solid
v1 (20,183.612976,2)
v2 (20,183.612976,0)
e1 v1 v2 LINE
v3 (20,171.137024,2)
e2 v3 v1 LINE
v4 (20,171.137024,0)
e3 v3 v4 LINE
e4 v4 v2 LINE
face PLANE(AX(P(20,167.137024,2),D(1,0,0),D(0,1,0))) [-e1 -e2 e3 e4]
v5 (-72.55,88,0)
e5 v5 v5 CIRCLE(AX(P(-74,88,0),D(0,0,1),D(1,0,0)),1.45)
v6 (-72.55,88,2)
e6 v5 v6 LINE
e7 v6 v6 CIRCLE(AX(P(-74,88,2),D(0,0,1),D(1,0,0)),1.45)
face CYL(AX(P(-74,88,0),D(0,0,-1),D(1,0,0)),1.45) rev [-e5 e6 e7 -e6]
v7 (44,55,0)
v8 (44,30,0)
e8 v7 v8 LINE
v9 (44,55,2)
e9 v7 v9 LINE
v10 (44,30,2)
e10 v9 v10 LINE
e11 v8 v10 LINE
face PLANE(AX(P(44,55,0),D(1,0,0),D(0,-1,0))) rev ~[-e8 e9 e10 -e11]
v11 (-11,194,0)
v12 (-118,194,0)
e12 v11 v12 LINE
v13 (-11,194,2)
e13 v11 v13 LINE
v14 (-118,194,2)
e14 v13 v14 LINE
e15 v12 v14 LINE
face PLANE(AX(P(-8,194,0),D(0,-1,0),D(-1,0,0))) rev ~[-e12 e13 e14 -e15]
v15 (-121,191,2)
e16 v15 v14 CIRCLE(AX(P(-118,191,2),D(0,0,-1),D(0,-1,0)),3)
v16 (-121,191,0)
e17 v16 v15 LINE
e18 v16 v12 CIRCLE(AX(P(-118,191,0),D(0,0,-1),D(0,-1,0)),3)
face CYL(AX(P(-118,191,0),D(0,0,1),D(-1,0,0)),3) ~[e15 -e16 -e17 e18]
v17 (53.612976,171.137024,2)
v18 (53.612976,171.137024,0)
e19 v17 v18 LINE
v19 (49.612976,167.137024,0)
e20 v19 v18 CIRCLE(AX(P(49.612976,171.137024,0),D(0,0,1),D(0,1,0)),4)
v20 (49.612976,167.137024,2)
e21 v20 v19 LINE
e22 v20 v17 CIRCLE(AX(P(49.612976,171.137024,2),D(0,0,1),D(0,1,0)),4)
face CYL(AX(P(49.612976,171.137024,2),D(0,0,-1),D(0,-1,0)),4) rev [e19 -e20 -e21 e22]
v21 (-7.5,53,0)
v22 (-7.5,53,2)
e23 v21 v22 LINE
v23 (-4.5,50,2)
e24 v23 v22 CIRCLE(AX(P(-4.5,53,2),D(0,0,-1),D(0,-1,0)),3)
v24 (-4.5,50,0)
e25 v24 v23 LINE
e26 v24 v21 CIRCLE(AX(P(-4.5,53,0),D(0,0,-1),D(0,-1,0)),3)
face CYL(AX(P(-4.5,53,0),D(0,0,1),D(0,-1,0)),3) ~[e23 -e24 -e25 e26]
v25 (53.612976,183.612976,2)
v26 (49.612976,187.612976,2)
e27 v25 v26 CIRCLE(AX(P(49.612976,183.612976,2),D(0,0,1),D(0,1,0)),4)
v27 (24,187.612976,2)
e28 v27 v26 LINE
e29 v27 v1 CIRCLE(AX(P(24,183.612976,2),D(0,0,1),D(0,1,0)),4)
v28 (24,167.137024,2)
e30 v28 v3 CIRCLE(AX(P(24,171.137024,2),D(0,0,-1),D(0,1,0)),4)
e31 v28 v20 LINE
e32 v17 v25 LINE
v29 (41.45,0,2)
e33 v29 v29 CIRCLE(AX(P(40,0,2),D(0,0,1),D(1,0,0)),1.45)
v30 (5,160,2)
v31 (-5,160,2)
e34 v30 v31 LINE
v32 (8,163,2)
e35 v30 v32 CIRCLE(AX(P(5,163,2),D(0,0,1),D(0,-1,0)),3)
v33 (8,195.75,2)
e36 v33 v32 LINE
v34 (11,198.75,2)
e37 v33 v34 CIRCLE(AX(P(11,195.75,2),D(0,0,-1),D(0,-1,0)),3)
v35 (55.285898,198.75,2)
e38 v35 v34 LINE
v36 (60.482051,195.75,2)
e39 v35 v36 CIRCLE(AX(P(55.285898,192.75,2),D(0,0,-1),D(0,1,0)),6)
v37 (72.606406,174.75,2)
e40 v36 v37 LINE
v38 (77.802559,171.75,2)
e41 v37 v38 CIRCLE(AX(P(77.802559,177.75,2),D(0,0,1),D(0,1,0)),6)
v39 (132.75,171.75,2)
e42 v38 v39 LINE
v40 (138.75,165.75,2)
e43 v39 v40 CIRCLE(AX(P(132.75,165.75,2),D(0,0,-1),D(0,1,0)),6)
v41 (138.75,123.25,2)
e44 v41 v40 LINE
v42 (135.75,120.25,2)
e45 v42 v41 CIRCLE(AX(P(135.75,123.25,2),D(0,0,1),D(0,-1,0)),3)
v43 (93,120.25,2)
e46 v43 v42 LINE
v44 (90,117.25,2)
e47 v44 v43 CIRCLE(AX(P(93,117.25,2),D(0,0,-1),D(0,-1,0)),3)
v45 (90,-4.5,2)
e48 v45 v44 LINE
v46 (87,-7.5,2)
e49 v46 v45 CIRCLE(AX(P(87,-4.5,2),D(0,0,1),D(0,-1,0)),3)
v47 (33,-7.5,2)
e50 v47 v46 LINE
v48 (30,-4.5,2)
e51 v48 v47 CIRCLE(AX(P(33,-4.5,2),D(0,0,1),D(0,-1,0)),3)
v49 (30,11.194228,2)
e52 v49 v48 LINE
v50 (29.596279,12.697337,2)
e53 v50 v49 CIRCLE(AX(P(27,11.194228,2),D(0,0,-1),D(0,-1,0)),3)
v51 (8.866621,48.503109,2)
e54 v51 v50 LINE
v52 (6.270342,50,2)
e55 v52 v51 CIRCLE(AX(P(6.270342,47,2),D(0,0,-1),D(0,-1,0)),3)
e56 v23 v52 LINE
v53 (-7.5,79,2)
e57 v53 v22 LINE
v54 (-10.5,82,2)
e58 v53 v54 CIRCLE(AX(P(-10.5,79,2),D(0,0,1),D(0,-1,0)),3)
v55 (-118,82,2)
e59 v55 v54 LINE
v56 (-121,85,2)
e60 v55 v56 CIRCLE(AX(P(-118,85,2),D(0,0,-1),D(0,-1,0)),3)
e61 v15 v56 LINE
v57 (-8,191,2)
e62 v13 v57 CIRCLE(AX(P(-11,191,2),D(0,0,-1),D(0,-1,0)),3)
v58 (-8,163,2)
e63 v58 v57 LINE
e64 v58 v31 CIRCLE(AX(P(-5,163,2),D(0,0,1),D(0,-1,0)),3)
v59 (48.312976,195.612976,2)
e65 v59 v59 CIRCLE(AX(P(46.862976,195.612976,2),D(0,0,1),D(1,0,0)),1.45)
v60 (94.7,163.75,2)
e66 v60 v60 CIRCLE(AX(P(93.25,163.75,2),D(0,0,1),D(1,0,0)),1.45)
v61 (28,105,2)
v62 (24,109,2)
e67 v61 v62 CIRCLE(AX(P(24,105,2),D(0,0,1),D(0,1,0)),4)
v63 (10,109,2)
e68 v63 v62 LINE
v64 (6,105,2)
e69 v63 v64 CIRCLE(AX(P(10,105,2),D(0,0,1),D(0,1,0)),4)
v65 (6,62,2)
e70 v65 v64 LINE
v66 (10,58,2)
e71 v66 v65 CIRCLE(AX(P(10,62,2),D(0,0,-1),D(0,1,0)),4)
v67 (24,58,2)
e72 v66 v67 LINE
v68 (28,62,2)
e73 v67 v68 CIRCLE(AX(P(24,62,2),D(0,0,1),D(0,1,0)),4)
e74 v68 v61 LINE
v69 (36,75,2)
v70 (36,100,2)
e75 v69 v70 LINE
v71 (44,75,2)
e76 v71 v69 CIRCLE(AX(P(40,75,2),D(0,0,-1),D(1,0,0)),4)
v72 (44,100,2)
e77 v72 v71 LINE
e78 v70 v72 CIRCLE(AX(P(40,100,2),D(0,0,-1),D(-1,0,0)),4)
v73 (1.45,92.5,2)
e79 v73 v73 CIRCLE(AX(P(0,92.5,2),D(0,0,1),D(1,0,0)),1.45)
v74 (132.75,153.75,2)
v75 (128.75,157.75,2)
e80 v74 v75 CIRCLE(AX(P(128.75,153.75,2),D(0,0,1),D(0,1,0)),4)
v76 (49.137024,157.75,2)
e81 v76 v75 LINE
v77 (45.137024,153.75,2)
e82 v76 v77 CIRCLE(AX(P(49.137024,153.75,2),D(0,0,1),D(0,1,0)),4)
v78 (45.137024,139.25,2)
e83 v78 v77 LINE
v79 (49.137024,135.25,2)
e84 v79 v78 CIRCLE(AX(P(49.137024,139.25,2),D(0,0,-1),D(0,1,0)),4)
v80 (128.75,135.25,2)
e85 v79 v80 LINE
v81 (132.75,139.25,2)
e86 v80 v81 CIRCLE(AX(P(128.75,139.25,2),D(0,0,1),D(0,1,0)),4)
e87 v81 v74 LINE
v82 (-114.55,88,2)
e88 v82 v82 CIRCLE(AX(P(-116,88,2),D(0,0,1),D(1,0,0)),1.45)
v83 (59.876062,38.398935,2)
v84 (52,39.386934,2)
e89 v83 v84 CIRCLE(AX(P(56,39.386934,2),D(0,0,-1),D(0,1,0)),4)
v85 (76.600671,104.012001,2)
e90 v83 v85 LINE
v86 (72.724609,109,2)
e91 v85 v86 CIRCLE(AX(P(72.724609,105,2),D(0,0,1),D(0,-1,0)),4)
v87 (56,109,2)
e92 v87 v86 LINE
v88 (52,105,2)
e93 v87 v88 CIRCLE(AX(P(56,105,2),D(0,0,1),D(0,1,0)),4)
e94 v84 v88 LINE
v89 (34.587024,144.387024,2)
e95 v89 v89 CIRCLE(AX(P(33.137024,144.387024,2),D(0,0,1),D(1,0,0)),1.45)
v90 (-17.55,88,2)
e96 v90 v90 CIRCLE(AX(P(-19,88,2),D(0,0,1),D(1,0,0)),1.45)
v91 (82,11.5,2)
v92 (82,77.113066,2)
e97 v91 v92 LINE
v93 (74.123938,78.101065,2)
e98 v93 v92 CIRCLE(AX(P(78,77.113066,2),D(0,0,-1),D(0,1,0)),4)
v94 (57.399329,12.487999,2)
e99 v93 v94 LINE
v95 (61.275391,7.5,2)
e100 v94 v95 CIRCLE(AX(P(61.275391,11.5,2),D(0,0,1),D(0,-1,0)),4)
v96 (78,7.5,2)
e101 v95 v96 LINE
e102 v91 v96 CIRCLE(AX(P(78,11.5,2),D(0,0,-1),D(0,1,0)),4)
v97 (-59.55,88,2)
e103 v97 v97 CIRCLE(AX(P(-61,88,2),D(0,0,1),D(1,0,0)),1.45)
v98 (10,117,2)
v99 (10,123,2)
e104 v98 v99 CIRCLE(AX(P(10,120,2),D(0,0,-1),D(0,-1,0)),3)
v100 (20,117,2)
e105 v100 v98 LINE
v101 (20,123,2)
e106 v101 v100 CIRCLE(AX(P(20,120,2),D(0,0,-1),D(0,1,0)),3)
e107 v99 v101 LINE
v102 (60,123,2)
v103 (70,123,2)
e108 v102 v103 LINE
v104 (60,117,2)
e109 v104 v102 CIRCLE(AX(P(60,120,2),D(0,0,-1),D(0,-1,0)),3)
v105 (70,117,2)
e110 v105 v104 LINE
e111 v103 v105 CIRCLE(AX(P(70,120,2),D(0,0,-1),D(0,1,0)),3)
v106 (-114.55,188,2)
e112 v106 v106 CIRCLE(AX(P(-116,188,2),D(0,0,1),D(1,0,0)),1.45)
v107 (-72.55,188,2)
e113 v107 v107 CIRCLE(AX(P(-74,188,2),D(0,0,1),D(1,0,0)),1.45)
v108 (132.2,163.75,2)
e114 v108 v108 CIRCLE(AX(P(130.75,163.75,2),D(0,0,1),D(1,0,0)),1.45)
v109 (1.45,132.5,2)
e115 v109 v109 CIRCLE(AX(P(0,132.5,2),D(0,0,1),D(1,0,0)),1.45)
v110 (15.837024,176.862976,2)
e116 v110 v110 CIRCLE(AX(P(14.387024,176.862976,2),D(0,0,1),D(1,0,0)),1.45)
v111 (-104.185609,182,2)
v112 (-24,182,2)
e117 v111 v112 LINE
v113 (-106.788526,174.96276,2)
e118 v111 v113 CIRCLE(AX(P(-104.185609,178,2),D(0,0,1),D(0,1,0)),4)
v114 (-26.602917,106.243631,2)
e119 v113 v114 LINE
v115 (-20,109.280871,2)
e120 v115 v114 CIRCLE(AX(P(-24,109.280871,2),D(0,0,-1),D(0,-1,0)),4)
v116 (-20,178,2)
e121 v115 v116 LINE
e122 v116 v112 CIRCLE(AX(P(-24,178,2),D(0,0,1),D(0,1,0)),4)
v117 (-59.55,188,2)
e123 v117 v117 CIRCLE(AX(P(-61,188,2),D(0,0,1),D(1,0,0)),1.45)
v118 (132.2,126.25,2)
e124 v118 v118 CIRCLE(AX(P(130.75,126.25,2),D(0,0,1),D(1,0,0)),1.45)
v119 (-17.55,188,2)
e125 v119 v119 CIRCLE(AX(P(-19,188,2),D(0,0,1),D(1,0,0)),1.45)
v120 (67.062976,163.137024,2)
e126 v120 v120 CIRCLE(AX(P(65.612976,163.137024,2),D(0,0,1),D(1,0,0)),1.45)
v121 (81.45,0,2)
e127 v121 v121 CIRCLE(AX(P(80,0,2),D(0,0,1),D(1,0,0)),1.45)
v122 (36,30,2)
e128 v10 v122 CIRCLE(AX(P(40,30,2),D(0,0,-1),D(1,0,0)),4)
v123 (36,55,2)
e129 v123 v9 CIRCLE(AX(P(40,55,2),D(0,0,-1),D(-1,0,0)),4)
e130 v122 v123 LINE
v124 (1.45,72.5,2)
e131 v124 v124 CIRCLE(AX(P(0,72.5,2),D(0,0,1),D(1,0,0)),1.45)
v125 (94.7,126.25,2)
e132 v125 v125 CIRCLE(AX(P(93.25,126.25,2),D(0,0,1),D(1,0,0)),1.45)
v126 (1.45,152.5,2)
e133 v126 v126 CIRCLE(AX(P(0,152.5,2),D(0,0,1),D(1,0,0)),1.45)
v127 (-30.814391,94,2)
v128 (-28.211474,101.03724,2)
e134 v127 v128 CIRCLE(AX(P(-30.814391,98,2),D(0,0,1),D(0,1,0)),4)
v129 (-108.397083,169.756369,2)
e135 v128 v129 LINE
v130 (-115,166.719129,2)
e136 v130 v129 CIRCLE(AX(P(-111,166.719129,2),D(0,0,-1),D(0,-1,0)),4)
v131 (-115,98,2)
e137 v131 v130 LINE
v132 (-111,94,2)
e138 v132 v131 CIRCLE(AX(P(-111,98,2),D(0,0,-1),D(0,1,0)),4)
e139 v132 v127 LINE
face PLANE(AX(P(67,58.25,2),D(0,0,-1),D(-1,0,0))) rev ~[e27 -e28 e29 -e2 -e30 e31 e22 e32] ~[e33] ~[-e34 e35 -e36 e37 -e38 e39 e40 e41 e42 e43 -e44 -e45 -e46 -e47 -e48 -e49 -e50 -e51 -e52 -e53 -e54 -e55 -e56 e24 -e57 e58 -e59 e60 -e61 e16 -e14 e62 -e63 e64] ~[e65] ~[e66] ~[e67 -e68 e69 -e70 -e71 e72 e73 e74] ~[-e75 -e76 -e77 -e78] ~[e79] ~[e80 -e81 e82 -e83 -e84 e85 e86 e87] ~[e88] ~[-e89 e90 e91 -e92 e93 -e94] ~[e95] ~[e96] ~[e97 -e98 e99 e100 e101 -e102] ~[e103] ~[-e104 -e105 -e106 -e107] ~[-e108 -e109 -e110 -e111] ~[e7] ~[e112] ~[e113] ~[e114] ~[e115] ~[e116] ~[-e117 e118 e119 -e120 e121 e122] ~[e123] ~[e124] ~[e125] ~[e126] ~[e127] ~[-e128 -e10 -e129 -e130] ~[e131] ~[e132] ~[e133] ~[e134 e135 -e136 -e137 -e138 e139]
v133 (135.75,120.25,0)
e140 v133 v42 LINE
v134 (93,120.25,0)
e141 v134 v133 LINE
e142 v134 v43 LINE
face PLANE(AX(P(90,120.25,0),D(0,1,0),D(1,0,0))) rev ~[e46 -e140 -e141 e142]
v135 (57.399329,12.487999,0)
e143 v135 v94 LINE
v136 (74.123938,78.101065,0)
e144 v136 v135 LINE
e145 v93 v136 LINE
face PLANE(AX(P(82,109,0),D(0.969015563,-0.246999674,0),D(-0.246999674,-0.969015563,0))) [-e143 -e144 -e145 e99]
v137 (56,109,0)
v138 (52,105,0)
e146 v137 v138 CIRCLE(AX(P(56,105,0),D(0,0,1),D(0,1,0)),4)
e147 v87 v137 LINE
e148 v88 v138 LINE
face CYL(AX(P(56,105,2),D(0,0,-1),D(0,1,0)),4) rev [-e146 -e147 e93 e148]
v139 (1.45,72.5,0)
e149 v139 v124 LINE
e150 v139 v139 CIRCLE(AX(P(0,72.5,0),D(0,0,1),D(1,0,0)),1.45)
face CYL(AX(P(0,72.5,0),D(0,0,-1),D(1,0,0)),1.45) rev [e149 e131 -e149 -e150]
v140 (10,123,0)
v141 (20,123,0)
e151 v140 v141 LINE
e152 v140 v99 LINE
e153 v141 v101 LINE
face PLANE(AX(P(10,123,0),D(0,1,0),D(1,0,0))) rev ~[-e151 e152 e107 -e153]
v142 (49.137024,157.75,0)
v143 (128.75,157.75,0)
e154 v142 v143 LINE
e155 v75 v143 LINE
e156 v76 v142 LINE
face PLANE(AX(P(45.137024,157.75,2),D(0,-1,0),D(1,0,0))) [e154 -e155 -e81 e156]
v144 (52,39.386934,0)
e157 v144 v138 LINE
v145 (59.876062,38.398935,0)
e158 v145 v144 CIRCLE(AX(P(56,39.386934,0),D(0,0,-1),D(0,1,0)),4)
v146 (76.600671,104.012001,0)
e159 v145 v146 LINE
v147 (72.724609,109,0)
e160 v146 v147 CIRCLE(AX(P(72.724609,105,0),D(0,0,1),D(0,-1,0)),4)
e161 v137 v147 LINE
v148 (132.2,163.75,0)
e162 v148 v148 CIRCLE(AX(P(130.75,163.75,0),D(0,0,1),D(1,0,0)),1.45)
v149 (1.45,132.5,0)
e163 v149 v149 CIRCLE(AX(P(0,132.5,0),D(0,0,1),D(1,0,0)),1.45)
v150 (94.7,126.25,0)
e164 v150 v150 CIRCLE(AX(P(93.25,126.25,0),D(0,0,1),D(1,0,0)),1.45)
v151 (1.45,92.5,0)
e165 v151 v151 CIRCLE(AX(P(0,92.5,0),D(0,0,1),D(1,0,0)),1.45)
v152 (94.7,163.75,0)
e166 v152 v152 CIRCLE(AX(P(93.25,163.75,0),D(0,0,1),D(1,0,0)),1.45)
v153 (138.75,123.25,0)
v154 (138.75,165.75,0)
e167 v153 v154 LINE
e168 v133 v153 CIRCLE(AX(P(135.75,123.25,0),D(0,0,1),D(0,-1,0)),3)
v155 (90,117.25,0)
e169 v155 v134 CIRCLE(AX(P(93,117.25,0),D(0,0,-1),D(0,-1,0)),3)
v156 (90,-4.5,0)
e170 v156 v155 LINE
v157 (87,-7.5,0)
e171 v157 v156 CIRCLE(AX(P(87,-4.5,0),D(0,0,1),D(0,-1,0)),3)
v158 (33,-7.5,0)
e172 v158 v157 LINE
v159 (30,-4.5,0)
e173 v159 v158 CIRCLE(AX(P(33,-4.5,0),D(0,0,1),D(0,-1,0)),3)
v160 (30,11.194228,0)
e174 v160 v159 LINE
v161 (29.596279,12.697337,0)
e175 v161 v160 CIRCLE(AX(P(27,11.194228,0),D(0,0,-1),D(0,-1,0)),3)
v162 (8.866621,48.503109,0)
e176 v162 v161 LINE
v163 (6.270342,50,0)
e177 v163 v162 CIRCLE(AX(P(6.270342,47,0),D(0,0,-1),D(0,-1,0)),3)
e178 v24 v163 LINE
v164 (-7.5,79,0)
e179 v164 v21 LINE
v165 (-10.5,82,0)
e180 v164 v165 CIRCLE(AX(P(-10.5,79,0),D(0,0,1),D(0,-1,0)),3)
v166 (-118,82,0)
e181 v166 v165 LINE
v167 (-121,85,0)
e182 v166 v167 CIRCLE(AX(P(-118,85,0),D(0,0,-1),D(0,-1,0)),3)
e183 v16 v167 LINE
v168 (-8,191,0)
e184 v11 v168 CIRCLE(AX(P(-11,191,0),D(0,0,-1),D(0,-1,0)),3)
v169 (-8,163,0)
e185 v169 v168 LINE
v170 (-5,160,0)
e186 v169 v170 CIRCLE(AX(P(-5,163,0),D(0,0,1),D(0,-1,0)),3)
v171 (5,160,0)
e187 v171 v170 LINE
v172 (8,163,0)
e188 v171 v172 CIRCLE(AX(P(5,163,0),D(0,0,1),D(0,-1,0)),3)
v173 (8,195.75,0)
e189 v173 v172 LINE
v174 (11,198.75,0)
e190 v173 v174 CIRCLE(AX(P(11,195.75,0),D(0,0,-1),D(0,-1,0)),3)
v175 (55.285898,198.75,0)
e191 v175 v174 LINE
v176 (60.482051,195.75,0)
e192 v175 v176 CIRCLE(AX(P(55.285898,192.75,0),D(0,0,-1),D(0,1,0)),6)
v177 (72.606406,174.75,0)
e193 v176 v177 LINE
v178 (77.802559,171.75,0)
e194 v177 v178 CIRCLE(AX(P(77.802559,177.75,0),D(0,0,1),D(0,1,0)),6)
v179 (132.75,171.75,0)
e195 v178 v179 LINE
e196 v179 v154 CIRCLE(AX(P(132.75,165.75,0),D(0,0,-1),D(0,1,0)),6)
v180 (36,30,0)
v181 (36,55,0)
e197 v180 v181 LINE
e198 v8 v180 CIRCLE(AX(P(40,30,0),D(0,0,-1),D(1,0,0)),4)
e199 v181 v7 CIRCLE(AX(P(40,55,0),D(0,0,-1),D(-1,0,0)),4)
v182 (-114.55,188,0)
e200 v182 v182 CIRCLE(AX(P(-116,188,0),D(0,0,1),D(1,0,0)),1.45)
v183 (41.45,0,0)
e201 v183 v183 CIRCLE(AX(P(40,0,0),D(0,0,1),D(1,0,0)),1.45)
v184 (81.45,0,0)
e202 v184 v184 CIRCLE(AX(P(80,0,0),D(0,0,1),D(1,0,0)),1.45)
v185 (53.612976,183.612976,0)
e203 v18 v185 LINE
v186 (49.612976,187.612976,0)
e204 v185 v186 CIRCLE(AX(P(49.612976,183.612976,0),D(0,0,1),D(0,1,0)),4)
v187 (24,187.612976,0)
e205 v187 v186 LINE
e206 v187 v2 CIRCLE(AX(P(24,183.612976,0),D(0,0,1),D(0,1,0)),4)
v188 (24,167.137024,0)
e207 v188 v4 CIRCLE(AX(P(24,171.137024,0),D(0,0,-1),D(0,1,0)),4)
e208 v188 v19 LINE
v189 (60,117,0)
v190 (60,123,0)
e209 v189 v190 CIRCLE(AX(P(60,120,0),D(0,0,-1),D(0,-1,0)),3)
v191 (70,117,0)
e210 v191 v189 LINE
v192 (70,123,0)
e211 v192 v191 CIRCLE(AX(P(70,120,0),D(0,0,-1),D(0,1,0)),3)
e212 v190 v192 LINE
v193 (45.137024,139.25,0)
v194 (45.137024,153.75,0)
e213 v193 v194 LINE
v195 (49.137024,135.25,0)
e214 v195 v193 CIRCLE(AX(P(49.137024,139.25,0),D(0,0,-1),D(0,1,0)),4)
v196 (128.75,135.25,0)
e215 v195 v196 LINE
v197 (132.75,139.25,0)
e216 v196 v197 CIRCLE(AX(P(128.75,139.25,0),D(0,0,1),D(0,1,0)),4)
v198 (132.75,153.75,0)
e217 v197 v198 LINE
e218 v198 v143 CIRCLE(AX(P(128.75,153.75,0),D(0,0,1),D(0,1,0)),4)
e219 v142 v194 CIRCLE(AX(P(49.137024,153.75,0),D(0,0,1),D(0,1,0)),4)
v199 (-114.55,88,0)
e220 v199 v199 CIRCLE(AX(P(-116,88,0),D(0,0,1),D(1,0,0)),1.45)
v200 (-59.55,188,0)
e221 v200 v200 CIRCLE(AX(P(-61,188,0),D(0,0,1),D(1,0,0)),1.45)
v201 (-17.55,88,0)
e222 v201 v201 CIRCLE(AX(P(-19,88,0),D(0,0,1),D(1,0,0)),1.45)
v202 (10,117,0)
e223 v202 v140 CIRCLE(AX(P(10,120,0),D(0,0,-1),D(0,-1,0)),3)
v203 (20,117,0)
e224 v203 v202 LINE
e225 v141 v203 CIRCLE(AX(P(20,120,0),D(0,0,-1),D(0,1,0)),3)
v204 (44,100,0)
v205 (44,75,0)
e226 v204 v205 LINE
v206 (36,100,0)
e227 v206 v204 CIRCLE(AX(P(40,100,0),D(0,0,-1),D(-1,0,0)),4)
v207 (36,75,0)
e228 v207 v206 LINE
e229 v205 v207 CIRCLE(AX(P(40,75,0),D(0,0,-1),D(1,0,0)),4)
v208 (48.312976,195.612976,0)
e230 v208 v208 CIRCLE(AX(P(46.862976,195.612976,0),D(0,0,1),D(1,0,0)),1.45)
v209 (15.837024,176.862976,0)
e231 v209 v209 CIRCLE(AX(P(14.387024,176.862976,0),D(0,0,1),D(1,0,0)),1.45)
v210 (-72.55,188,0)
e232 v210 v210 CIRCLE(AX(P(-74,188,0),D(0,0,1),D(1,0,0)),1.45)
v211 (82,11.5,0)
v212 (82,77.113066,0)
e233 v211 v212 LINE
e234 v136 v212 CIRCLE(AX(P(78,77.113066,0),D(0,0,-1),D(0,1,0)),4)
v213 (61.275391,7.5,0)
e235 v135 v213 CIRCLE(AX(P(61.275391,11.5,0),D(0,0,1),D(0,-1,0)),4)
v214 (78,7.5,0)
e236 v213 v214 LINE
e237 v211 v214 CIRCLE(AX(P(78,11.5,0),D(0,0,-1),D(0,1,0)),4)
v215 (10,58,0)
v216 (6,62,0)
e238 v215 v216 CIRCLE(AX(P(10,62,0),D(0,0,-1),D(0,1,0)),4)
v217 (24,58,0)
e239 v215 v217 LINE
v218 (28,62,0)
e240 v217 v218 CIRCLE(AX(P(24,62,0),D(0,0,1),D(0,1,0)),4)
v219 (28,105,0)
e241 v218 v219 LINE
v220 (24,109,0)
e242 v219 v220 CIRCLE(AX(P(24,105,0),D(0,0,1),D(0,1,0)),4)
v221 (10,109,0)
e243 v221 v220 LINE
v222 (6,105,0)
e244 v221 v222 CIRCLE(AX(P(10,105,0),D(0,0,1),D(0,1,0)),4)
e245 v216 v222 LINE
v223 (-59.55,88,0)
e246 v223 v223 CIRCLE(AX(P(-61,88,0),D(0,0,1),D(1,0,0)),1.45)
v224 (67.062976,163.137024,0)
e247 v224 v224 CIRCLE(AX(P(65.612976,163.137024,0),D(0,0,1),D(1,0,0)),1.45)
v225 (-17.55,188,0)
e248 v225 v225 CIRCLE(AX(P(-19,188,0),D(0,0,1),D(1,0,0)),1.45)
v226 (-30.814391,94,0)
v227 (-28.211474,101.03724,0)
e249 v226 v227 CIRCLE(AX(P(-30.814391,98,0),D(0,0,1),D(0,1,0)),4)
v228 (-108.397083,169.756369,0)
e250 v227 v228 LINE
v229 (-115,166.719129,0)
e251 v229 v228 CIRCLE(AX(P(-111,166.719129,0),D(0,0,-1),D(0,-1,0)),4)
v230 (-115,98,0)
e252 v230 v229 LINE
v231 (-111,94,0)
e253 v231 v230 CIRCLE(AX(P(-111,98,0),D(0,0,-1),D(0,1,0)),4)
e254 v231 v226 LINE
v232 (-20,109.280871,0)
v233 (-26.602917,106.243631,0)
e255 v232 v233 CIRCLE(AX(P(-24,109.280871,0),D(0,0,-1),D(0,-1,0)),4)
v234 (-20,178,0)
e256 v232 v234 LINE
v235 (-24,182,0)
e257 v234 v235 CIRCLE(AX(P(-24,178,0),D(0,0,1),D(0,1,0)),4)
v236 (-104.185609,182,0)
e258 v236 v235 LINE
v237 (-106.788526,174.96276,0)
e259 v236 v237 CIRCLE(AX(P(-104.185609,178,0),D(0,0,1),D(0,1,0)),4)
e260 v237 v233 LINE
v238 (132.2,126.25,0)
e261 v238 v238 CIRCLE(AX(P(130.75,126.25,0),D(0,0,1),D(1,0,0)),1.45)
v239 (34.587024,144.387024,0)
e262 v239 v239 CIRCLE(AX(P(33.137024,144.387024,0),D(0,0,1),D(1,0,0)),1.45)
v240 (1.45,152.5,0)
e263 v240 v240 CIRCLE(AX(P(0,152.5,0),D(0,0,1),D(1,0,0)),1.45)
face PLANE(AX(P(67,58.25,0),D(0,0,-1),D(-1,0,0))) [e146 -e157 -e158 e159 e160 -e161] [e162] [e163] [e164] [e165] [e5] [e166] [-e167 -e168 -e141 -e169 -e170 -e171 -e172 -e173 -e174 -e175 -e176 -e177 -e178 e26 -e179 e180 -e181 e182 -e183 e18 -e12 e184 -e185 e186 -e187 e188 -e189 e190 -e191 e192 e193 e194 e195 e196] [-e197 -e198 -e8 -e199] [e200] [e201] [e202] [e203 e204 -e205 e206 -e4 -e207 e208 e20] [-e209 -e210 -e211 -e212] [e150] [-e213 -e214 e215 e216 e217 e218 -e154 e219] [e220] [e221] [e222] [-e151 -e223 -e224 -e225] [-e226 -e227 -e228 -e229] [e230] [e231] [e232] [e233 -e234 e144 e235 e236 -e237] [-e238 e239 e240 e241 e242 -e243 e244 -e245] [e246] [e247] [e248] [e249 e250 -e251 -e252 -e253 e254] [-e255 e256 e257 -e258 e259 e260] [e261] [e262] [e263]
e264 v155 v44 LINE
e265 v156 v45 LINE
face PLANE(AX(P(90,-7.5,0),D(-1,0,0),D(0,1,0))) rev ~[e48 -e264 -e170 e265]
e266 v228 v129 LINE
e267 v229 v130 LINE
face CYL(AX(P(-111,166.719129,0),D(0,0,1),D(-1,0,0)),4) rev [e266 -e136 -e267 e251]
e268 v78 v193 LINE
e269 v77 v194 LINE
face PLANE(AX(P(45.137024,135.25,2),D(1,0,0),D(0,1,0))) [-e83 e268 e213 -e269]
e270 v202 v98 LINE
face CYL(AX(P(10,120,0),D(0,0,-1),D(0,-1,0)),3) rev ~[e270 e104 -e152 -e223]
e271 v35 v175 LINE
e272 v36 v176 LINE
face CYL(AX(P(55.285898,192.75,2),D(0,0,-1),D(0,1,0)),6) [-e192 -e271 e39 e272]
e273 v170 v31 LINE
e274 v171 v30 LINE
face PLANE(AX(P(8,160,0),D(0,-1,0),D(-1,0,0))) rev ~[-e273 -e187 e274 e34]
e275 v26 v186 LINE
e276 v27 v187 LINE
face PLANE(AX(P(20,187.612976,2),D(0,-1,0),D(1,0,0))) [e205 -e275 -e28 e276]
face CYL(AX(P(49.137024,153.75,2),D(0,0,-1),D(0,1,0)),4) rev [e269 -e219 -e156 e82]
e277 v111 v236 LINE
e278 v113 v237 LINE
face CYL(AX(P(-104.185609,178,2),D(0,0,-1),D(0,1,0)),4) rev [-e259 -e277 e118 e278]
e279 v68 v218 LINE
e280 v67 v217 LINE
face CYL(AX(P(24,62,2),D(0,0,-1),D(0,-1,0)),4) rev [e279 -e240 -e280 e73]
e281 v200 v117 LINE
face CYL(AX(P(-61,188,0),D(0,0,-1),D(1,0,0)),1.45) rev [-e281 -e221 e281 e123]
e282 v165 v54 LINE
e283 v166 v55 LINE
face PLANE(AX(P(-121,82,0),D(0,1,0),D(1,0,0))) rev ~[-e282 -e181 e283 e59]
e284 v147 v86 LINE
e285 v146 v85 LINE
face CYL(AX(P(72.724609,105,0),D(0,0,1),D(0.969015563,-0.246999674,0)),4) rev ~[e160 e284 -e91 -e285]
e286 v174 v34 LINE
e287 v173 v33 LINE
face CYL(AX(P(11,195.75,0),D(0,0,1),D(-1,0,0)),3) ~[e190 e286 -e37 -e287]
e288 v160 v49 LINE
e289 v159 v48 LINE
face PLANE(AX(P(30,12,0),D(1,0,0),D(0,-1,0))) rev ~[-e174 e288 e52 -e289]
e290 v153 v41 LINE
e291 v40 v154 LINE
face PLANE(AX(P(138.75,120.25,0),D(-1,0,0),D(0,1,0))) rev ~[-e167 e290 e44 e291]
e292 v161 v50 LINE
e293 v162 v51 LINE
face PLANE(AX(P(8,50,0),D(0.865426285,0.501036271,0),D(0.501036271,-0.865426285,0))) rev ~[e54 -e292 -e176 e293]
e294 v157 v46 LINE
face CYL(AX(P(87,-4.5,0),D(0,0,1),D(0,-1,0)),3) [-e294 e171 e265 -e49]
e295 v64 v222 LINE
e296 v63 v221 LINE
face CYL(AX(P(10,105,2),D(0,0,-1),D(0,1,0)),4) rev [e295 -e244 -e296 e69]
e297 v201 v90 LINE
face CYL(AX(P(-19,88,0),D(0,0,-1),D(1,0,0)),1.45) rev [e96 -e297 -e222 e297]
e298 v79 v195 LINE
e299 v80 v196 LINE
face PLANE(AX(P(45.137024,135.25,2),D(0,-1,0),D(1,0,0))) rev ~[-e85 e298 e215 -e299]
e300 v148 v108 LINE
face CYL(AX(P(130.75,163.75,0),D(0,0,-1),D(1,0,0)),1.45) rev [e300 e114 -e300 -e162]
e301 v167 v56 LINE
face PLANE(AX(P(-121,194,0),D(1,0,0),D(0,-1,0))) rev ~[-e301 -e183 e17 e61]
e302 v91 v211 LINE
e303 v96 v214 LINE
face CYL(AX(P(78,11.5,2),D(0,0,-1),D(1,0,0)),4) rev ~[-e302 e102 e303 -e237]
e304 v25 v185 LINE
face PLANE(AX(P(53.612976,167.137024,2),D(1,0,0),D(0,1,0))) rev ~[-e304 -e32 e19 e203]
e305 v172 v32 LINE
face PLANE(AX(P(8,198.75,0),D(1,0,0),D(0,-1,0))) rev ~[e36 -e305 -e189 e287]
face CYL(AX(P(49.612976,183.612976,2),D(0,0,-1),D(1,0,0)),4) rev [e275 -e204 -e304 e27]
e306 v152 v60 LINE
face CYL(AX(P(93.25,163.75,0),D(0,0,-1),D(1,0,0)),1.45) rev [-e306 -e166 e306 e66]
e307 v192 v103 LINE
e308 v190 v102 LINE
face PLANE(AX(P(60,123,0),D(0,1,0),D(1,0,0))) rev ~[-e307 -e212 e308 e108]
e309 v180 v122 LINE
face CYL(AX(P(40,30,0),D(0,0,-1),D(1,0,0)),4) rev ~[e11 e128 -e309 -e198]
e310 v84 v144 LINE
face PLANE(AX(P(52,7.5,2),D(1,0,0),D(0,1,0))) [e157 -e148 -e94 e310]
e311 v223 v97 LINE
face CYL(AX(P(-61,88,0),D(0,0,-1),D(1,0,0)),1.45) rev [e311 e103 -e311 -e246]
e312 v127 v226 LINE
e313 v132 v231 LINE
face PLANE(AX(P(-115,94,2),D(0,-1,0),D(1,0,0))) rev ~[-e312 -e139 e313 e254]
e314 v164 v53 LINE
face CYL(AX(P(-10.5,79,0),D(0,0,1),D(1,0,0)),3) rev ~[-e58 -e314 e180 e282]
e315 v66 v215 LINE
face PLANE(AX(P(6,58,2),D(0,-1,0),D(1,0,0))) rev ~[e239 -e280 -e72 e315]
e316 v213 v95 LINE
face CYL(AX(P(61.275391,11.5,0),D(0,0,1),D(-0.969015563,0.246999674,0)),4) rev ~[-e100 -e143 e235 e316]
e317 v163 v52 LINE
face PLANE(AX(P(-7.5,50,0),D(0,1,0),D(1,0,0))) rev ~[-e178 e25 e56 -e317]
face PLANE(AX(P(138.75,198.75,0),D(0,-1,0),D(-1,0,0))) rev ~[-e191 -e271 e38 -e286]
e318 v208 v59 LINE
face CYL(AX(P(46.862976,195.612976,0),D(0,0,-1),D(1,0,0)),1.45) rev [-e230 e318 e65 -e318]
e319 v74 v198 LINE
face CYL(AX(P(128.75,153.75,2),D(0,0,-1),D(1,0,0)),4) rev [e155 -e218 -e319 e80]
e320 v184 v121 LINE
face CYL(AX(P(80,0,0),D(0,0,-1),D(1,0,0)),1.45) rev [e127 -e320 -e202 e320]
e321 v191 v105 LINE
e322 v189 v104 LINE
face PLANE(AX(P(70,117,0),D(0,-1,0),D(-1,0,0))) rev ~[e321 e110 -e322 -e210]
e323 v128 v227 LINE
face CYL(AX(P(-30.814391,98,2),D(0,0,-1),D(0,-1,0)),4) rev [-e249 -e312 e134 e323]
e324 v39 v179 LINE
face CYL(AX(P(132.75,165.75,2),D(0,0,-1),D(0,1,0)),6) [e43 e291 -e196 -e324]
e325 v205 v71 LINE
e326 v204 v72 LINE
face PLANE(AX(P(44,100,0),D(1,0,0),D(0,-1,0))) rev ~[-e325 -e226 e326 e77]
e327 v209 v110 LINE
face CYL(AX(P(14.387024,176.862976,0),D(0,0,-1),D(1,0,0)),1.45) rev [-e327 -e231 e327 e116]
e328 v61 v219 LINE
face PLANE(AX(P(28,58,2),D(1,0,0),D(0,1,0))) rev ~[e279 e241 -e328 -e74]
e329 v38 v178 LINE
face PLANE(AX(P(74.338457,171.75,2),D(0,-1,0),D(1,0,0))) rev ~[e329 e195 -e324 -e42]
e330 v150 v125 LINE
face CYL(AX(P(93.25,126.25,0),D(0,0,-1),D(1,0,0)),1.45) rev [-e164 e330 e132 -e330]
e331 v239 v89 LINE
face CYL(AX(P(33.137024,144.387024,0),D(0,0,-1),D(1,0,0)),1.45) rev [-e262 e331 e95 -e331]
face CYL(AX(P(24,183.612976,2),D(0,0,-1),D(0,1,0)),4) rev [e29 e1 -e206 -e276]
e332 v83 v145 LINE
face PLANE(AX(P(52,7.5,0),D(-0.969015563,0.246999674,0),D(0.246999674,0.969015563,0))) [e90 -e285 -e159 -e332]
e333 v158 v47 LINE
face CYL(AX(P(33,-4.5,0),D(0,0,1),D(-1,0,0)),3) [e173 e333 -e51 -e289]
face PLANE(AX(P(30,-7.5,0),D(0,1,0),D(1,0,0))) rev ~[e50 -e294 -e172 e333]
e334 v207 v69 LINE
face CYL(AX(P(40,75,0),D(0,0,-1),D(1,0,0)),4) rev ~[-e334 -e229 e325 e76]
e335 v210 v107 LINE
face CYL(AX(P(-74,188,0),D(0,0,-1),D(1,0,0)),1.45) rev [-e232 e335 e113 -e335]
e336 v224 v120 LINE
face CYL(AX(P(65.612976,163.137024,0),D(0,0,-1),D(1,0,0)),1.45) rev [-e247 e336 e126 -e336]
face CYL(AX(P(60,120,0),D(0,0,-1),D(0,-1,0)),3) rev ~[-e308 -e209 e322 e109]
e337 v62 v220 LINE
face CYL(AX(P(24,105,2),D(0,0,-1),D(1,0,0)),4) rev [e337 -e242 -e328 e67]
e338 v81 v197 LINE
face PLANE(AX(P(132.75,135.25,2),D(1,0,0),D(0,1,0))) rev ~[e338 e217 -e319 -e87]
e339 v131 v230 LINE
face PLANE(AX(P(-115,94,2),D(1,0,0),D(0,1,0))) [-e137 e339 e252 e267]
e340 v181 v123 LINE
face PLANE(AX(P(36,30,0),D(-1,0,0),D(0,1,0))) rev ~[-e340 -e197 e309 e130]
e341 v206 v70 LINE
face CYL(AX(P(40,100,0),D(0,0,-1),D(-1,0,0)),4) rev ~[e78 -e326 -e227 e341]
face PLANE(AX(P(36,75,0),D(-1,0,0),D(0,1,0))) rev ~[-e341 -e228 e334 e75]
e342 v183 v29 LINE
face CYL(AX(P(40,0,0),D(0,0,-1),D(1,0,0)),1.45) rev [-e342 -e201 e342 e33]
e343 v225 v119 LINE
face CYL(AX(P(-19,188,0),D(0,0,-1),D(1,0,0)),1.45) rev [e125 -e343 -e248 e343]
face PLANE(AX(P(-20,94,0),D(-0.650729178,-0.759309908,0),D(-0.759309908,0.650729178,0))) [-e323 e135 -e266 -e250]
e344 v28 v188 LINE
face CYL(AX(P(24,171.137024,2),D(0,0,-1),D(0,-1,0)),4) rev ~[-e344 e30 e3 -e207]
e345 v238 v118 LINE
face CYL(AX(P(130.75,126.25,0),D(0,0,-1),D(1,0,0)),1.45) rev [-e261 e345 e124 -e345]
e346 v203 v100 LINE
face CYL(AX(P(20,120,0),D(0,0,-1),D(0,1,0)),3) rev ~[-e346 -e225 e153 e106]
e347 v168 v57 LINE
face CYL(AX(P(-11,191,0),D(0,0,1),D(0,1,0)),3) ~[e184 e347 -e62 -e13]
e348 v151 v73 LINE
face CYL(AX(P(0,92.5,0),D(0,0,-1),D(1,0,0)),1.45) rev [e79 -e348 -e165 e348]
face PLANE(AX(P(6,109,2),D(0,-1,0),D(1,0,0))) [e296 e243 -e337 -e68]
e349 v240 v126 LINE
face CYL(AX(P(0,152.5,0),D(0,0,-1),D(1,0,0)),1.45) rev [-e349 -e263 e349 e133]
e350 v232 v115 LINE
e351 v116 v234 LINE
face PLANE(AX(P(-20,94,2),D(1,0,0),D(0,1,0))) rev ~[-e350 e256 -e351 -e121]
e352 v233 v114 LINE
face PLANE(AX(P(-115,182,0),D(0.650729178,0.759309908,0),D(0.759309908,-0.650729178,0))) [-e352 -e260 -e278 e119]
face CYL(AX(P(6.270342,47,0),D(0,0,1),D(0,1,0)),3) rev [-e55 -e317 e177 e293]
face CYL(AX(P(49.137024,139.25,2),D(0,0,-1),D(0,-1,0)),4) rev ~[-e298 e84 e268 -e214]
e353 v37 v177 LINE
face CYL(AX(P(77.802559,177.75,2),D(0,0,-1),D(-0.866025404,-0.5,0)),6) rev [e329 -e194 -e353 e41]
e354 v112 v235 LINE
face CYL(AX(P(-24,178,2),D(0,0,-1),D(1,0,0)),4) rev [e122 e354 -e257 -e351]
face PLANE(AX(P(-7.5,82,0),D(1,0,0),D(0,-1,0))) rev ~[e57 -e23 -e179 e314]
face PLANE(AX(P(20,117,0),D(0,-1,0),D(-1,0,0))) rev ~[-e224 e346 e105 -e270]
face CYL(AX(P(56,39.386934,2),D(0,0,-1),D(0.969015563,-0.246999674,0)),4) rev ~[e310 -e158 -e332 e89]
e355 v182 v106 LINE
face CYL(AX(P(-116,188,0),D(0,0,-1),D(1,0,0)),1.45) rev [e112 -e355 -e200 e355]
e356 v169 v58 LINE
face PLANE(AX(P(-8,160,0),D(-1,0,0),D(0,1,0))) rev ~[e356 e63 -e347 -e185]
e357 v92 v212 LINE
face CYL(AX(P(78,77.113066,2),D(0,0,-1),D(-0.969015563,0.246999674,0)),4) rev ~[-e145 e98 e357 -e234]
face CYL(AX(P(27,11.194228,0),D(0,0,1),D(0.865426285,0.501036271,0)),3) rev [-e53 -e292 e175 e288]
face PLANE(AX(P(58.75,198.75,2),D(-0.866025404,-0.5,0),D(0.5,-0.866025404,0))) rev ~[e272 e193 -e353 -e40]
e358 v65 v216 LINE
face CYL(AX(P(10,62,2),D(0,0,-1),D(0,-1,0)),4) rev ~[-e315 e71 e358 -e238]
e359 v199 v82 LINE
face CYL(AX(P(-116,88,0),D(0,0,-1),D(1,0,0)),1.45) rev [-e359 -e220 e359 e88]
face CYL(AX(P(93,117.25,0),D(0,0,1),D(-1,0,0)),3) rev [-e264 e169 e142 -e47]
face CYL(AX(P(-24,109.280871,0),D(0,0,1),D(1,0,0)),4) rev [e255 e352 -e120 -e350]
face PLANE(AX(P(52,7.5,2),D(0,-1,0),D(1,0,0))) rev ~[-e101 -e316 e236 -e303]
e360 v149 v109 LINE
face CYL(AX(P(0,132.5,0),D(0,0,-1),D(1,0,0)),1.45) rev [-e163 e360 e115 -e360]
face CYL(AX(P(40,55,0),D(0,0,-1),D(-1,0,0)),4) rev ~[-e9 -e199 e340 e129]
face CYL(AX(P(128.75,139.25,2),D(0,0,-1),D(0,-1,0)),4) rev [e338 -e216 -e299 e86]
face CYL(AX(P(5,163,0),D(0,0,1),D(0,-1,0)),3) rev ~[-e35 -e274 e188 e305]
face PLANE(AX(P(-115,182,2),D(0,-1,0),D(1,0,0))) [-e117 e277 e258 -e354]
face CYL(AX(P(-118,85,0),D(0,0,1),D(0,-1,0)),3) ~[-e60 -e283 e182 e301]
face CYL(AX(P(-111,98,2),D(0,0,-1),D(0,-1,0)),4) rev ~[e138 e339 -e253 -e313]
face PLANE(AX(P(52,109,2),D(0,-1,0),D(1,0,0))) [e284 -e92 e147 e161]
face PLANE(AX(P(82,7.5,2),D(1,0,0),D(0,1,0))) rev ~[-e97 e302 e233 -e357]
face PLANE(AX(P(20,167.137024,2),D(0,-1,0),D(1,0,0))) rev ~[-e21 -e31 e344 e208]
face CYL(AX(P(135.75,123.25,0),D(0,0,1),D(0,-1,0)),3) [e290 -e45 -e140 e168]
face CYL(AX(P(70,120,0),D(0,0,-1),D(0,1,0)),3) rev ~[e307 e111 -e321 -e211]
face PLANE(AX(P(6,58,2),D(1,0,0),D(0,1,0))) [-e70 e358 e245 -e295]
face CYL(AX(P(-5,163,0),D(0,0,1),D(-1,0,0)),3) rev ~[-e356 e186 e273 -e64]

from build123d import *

# Parameters (mm, degrees)
SKETCH_1_R          = 1.45
EXTRUDE_1_DEPTH     = 2
FILLET_1_R          = 3
SKETCH_2_W          = 95
SKETCH_2_H          = 88
SKETCH_2_W_2        = 30
SKETCH_2_H_2        = 101.5
SKETCH_2_W_3        = 87.612976321
SKETCH_2_H_3        = 22.5
SKETCH_2_W_4        = 22
SKETCH_2_H_4        = 51
SKETCH_2_W_5        = 33.612976321
SKETCH_2_H_5        = 20.475952642
CUT_EXTRUDE_1_DEPTH = 10
EXTRUDE_2_DEPTH     = 2
FILLET_2_R          = 4
FILLET_3_R          = 6


with BuildPart() as part:
    # 草图1 → 凸台-拉伸1 (new body)
    with BuildSketch(Plane.XY):
        Polygon((-7.5, 50), (0, 50), (8, 50), (30, 12), (30, 0), (30, -7.5), (90, -7.5), (90, 120.25), (138.75, 120.25), (138.75, 198.75), (8, 198.75), (8, 160), (-8, 160), (-8, 194), (-121, 194), (-121, 82), (-7.5, 82), align=None)
        with Locations((0, 72.5)):
            Circle(SKETCH_1_R, mode=Mode.SUBTRACT)
        with Locations((0, 92.5)):
            Circle(SKETCH_1_R, mode=Mode.SUBTRACT)
        with Locations((0, 152.5)):
            Circle(SKETCH_1_R, mode=Mode.SUBTRACT)
        with Locations((40, 0)):
            Circle(SKETCH_1_R, mode=Mode.SUBTRACT)
        with Locations((80, 0)):
            Circle(SKETCH_1_R, mode=Mode.SUBTRACT)
        with Locations((0, 132.5)):
            Circle(SKETCH_1_R, mode=Mode.SUBTRACT)
        with Locations((-116, 188)):
            Circle(SKETCH_1_R, mode=Mode.SUBTRACT)
        with Locations((-74, 188)):
            Circle(SKETCH_1_R, mode=Mode.SUBTRACT)
        with Locations((-116, 88)):
            Circle(SKETCH_1_R, mode=Mode.SUBTRACT)
        with Locations((-74, 88)):
            Circle(SKETCH_1_R, mode=Mode.SUBTRACT)
        with Locations((-61, 88)):
            Circle(SKETCH_1_R, mode=Mode.SUBTRACT)
        with Locations((-19, 88)):
            Circle(SKETCH_1_R, mode=Mode.SUBTRACT)
        with Locations((-19, 188)):
            Circle(SKETCH_1_R, mode=Mode.SUBTRACT)
        with Locations((-61, 188)):
            Circle(SKETCH_1_R, mode=Mode.SUBTRACT)
        with Locations((14.387023679, 176.862976321)):
            Circle(SKETCH_1_R, mode=Mode.SUBTRACT)
        with Locations((46.862976321, 195.612976321)):
            Circle(SKETCH_1_R, mode=Mode.SUBTRACT)
        with Locations((65.612976321, 163.137023679)):
            Circle(SKETCH_1_R, mode=Mode.SUBTRACT)
        with Locations((33.137023679, 144.387023679)):
            Circle(SKETCH_1_R, mode=Mode.SUBTRACT)
        with Locations((93.25, 163.75)):
            Circle(SKETCH_1_R, mode=Mode.SUBTRACT)
        with Locations((130.75, 163.75)):
            Circle(SKETCH_1_R, mode=Mode.SUBTRACT)
        with Locations((130.75, 126.25)):
            Circle(SKETCH_1_R, mode=Mode.SUBTRACT)
        with Locations((93.25, 126.25)):
            Circle(SKETCH_1_R, mode=Mode.SUBTRACT)
        with BuildLine():
            Line((36, 30), (36, 55))
            ThreePointArc((36, 55), (40, 59), (44, 55))
            Line((44, 55), (44, 30))
            ThreePointArc((44, 30), (40, 26), (36, 30))
        make_face(mode=Mode.SUBTRACT)
        with BuildLine():
            Line((36, 75), (36, 100))
            ThreePointArc((36, 100), (40, 104), (44, 100))
            Line((44, 100), (44, 75))
            ThreePointArc((44, 75), (40, 71), (36, 75))
        make_face(mode=Mode.SUBTRACT)
        with BuildLine():
            Line((10, 123), (20, 123))
            ThreePointArc((20, 123), (23, 120), (20, 117))
            Line((20, 117), (10, 117))
            ThreePointArc((10, 117), (7, 120), (10, 123))
        make_face(mode=Mode.SUBTRACT)
        with BuildLine():
            Line((60, 123), (70, 123))
            ThreePointArc((70, 123), (73, 120), (70, 117))
            Line((70, 117), (60, 117))
            ThreePointArc((60, 117), (57, 120), (60, 123))
        make_face(mode=Mode.SUBTRACT)
    extrude(amount=EXTRUDE_1_DEPTH)

    # 圆角1
    fillet_1_edges = [part.edges().sort_by_distance(p)[0] for p in [
        (-7.5, 82, 1),
        (-121, 82, 1),
        (-121, 194, 1),
        (-8, 194, 1),
        (-8, 160, 1),
        (8, 160, 1),
        (8, 198.75, 1),
        (138.75, 198.75, 1),
        (138.75, 120.25, 1),
        (90, 120.25, 1),
        (90, -7.5, 1),
        (30, -7.5, 1),
        (30, 12, 1),
        (8, 50, 1),
        (-7.5, 50, 1),
    ]]
    fillet(fillet_1_edges, radius=FILLET_1_R)

    # 草图2 → 切除-拉伸1 (cut)
    with BuildSketch(Plane.XY.offset(2)):
        with Locations((-67.5, 138)):
            Rectangle(SKETCH_2_W, SKETCH_2_H)
        Polygon((58.75, 198.75), (74.338457268, 171.75), (138.75, 171.75), (138.75, 198.75), align=None)
        with Locations((67, 58.25)):
            Rectangle(SKETCH_2_W_2, SKETCH_2_H_2)
        with Locations((88.94351184, 146.5)):
            Rectangle(SKETCH_2_W_3, SKETCH_2_H_3)
        with Locations((17, 83.5)):
            Rectangle(SKETCH_2_W_4, SKETCH_2_H_4)
        with Locations((36.806488161, 177.375)):
            Rectangle(SKETCH_2_W_5, SKETCH_2_H_5)
    extrude(amount=-CUT_EXTRUDE_1_DEPTH, mode=Mode.SUBTRACT)

    # 草图3 → 凸台-拉伸2 (add)
    with BuildSketch(Plane.XY):
        Polygon((82, 109), (56.127900679, 7.5), (52, 7.5), (77.872099321, 109), align=None)
        Polygon((-20, 94), (-115, 175.415073416), (-115, 182), (-20, 100.584926584), align=None)
    extrude(amount=EXTRUDE_2_DEPTH)

    # 圆角2
    fillet_2_edges = [part.edges().sort_by_distance(p)[0] for p in [
        (-20, 182, 1),
        (-20, 94, 1),
        (-115, 94, 1),
        (-115, 182, 1),
        (53.612976321, 187.612976321, 1),
        (53.612976321, 167.137023679, 1),
        (20, 167.137023679, 1),
        (20, 187.612976321, 1),
        (82, 109, 1),
        (82, 7.5, 1),
        (52, 7.5, 1),
        (52, 109, 1),
        (132.75, 157.75, 1),
        (132.75, 135.25, 1),
        (45.137023679, 135.25, 1),
        (45.137023679, 157.75, 1),
        (28, 109, 1),
        (28, 58, 1),
        (6, 58, 1),
        (6, 109, 1),
        (77.872099321, 109, 1),
        (56.127900679, 7.5, 1),
        (-20, 100.584926584, 1),
        (-115, 175.415073416, 1),
    ]]
    fillet(fillet_2_edges, radius=FILLET_2_R)

    # 圆角3
    fillet_3_edges = [part.edges().sort_by_distance(p)[0] for p in [
        (138.75, 171.75, 1),
        (74.338457268, 171.75, 1),
        (58.75, 198.75, 1),
    ]]
    fillet(fillet_3_edges, radius=FILLET_3_R)


solid = part.part
